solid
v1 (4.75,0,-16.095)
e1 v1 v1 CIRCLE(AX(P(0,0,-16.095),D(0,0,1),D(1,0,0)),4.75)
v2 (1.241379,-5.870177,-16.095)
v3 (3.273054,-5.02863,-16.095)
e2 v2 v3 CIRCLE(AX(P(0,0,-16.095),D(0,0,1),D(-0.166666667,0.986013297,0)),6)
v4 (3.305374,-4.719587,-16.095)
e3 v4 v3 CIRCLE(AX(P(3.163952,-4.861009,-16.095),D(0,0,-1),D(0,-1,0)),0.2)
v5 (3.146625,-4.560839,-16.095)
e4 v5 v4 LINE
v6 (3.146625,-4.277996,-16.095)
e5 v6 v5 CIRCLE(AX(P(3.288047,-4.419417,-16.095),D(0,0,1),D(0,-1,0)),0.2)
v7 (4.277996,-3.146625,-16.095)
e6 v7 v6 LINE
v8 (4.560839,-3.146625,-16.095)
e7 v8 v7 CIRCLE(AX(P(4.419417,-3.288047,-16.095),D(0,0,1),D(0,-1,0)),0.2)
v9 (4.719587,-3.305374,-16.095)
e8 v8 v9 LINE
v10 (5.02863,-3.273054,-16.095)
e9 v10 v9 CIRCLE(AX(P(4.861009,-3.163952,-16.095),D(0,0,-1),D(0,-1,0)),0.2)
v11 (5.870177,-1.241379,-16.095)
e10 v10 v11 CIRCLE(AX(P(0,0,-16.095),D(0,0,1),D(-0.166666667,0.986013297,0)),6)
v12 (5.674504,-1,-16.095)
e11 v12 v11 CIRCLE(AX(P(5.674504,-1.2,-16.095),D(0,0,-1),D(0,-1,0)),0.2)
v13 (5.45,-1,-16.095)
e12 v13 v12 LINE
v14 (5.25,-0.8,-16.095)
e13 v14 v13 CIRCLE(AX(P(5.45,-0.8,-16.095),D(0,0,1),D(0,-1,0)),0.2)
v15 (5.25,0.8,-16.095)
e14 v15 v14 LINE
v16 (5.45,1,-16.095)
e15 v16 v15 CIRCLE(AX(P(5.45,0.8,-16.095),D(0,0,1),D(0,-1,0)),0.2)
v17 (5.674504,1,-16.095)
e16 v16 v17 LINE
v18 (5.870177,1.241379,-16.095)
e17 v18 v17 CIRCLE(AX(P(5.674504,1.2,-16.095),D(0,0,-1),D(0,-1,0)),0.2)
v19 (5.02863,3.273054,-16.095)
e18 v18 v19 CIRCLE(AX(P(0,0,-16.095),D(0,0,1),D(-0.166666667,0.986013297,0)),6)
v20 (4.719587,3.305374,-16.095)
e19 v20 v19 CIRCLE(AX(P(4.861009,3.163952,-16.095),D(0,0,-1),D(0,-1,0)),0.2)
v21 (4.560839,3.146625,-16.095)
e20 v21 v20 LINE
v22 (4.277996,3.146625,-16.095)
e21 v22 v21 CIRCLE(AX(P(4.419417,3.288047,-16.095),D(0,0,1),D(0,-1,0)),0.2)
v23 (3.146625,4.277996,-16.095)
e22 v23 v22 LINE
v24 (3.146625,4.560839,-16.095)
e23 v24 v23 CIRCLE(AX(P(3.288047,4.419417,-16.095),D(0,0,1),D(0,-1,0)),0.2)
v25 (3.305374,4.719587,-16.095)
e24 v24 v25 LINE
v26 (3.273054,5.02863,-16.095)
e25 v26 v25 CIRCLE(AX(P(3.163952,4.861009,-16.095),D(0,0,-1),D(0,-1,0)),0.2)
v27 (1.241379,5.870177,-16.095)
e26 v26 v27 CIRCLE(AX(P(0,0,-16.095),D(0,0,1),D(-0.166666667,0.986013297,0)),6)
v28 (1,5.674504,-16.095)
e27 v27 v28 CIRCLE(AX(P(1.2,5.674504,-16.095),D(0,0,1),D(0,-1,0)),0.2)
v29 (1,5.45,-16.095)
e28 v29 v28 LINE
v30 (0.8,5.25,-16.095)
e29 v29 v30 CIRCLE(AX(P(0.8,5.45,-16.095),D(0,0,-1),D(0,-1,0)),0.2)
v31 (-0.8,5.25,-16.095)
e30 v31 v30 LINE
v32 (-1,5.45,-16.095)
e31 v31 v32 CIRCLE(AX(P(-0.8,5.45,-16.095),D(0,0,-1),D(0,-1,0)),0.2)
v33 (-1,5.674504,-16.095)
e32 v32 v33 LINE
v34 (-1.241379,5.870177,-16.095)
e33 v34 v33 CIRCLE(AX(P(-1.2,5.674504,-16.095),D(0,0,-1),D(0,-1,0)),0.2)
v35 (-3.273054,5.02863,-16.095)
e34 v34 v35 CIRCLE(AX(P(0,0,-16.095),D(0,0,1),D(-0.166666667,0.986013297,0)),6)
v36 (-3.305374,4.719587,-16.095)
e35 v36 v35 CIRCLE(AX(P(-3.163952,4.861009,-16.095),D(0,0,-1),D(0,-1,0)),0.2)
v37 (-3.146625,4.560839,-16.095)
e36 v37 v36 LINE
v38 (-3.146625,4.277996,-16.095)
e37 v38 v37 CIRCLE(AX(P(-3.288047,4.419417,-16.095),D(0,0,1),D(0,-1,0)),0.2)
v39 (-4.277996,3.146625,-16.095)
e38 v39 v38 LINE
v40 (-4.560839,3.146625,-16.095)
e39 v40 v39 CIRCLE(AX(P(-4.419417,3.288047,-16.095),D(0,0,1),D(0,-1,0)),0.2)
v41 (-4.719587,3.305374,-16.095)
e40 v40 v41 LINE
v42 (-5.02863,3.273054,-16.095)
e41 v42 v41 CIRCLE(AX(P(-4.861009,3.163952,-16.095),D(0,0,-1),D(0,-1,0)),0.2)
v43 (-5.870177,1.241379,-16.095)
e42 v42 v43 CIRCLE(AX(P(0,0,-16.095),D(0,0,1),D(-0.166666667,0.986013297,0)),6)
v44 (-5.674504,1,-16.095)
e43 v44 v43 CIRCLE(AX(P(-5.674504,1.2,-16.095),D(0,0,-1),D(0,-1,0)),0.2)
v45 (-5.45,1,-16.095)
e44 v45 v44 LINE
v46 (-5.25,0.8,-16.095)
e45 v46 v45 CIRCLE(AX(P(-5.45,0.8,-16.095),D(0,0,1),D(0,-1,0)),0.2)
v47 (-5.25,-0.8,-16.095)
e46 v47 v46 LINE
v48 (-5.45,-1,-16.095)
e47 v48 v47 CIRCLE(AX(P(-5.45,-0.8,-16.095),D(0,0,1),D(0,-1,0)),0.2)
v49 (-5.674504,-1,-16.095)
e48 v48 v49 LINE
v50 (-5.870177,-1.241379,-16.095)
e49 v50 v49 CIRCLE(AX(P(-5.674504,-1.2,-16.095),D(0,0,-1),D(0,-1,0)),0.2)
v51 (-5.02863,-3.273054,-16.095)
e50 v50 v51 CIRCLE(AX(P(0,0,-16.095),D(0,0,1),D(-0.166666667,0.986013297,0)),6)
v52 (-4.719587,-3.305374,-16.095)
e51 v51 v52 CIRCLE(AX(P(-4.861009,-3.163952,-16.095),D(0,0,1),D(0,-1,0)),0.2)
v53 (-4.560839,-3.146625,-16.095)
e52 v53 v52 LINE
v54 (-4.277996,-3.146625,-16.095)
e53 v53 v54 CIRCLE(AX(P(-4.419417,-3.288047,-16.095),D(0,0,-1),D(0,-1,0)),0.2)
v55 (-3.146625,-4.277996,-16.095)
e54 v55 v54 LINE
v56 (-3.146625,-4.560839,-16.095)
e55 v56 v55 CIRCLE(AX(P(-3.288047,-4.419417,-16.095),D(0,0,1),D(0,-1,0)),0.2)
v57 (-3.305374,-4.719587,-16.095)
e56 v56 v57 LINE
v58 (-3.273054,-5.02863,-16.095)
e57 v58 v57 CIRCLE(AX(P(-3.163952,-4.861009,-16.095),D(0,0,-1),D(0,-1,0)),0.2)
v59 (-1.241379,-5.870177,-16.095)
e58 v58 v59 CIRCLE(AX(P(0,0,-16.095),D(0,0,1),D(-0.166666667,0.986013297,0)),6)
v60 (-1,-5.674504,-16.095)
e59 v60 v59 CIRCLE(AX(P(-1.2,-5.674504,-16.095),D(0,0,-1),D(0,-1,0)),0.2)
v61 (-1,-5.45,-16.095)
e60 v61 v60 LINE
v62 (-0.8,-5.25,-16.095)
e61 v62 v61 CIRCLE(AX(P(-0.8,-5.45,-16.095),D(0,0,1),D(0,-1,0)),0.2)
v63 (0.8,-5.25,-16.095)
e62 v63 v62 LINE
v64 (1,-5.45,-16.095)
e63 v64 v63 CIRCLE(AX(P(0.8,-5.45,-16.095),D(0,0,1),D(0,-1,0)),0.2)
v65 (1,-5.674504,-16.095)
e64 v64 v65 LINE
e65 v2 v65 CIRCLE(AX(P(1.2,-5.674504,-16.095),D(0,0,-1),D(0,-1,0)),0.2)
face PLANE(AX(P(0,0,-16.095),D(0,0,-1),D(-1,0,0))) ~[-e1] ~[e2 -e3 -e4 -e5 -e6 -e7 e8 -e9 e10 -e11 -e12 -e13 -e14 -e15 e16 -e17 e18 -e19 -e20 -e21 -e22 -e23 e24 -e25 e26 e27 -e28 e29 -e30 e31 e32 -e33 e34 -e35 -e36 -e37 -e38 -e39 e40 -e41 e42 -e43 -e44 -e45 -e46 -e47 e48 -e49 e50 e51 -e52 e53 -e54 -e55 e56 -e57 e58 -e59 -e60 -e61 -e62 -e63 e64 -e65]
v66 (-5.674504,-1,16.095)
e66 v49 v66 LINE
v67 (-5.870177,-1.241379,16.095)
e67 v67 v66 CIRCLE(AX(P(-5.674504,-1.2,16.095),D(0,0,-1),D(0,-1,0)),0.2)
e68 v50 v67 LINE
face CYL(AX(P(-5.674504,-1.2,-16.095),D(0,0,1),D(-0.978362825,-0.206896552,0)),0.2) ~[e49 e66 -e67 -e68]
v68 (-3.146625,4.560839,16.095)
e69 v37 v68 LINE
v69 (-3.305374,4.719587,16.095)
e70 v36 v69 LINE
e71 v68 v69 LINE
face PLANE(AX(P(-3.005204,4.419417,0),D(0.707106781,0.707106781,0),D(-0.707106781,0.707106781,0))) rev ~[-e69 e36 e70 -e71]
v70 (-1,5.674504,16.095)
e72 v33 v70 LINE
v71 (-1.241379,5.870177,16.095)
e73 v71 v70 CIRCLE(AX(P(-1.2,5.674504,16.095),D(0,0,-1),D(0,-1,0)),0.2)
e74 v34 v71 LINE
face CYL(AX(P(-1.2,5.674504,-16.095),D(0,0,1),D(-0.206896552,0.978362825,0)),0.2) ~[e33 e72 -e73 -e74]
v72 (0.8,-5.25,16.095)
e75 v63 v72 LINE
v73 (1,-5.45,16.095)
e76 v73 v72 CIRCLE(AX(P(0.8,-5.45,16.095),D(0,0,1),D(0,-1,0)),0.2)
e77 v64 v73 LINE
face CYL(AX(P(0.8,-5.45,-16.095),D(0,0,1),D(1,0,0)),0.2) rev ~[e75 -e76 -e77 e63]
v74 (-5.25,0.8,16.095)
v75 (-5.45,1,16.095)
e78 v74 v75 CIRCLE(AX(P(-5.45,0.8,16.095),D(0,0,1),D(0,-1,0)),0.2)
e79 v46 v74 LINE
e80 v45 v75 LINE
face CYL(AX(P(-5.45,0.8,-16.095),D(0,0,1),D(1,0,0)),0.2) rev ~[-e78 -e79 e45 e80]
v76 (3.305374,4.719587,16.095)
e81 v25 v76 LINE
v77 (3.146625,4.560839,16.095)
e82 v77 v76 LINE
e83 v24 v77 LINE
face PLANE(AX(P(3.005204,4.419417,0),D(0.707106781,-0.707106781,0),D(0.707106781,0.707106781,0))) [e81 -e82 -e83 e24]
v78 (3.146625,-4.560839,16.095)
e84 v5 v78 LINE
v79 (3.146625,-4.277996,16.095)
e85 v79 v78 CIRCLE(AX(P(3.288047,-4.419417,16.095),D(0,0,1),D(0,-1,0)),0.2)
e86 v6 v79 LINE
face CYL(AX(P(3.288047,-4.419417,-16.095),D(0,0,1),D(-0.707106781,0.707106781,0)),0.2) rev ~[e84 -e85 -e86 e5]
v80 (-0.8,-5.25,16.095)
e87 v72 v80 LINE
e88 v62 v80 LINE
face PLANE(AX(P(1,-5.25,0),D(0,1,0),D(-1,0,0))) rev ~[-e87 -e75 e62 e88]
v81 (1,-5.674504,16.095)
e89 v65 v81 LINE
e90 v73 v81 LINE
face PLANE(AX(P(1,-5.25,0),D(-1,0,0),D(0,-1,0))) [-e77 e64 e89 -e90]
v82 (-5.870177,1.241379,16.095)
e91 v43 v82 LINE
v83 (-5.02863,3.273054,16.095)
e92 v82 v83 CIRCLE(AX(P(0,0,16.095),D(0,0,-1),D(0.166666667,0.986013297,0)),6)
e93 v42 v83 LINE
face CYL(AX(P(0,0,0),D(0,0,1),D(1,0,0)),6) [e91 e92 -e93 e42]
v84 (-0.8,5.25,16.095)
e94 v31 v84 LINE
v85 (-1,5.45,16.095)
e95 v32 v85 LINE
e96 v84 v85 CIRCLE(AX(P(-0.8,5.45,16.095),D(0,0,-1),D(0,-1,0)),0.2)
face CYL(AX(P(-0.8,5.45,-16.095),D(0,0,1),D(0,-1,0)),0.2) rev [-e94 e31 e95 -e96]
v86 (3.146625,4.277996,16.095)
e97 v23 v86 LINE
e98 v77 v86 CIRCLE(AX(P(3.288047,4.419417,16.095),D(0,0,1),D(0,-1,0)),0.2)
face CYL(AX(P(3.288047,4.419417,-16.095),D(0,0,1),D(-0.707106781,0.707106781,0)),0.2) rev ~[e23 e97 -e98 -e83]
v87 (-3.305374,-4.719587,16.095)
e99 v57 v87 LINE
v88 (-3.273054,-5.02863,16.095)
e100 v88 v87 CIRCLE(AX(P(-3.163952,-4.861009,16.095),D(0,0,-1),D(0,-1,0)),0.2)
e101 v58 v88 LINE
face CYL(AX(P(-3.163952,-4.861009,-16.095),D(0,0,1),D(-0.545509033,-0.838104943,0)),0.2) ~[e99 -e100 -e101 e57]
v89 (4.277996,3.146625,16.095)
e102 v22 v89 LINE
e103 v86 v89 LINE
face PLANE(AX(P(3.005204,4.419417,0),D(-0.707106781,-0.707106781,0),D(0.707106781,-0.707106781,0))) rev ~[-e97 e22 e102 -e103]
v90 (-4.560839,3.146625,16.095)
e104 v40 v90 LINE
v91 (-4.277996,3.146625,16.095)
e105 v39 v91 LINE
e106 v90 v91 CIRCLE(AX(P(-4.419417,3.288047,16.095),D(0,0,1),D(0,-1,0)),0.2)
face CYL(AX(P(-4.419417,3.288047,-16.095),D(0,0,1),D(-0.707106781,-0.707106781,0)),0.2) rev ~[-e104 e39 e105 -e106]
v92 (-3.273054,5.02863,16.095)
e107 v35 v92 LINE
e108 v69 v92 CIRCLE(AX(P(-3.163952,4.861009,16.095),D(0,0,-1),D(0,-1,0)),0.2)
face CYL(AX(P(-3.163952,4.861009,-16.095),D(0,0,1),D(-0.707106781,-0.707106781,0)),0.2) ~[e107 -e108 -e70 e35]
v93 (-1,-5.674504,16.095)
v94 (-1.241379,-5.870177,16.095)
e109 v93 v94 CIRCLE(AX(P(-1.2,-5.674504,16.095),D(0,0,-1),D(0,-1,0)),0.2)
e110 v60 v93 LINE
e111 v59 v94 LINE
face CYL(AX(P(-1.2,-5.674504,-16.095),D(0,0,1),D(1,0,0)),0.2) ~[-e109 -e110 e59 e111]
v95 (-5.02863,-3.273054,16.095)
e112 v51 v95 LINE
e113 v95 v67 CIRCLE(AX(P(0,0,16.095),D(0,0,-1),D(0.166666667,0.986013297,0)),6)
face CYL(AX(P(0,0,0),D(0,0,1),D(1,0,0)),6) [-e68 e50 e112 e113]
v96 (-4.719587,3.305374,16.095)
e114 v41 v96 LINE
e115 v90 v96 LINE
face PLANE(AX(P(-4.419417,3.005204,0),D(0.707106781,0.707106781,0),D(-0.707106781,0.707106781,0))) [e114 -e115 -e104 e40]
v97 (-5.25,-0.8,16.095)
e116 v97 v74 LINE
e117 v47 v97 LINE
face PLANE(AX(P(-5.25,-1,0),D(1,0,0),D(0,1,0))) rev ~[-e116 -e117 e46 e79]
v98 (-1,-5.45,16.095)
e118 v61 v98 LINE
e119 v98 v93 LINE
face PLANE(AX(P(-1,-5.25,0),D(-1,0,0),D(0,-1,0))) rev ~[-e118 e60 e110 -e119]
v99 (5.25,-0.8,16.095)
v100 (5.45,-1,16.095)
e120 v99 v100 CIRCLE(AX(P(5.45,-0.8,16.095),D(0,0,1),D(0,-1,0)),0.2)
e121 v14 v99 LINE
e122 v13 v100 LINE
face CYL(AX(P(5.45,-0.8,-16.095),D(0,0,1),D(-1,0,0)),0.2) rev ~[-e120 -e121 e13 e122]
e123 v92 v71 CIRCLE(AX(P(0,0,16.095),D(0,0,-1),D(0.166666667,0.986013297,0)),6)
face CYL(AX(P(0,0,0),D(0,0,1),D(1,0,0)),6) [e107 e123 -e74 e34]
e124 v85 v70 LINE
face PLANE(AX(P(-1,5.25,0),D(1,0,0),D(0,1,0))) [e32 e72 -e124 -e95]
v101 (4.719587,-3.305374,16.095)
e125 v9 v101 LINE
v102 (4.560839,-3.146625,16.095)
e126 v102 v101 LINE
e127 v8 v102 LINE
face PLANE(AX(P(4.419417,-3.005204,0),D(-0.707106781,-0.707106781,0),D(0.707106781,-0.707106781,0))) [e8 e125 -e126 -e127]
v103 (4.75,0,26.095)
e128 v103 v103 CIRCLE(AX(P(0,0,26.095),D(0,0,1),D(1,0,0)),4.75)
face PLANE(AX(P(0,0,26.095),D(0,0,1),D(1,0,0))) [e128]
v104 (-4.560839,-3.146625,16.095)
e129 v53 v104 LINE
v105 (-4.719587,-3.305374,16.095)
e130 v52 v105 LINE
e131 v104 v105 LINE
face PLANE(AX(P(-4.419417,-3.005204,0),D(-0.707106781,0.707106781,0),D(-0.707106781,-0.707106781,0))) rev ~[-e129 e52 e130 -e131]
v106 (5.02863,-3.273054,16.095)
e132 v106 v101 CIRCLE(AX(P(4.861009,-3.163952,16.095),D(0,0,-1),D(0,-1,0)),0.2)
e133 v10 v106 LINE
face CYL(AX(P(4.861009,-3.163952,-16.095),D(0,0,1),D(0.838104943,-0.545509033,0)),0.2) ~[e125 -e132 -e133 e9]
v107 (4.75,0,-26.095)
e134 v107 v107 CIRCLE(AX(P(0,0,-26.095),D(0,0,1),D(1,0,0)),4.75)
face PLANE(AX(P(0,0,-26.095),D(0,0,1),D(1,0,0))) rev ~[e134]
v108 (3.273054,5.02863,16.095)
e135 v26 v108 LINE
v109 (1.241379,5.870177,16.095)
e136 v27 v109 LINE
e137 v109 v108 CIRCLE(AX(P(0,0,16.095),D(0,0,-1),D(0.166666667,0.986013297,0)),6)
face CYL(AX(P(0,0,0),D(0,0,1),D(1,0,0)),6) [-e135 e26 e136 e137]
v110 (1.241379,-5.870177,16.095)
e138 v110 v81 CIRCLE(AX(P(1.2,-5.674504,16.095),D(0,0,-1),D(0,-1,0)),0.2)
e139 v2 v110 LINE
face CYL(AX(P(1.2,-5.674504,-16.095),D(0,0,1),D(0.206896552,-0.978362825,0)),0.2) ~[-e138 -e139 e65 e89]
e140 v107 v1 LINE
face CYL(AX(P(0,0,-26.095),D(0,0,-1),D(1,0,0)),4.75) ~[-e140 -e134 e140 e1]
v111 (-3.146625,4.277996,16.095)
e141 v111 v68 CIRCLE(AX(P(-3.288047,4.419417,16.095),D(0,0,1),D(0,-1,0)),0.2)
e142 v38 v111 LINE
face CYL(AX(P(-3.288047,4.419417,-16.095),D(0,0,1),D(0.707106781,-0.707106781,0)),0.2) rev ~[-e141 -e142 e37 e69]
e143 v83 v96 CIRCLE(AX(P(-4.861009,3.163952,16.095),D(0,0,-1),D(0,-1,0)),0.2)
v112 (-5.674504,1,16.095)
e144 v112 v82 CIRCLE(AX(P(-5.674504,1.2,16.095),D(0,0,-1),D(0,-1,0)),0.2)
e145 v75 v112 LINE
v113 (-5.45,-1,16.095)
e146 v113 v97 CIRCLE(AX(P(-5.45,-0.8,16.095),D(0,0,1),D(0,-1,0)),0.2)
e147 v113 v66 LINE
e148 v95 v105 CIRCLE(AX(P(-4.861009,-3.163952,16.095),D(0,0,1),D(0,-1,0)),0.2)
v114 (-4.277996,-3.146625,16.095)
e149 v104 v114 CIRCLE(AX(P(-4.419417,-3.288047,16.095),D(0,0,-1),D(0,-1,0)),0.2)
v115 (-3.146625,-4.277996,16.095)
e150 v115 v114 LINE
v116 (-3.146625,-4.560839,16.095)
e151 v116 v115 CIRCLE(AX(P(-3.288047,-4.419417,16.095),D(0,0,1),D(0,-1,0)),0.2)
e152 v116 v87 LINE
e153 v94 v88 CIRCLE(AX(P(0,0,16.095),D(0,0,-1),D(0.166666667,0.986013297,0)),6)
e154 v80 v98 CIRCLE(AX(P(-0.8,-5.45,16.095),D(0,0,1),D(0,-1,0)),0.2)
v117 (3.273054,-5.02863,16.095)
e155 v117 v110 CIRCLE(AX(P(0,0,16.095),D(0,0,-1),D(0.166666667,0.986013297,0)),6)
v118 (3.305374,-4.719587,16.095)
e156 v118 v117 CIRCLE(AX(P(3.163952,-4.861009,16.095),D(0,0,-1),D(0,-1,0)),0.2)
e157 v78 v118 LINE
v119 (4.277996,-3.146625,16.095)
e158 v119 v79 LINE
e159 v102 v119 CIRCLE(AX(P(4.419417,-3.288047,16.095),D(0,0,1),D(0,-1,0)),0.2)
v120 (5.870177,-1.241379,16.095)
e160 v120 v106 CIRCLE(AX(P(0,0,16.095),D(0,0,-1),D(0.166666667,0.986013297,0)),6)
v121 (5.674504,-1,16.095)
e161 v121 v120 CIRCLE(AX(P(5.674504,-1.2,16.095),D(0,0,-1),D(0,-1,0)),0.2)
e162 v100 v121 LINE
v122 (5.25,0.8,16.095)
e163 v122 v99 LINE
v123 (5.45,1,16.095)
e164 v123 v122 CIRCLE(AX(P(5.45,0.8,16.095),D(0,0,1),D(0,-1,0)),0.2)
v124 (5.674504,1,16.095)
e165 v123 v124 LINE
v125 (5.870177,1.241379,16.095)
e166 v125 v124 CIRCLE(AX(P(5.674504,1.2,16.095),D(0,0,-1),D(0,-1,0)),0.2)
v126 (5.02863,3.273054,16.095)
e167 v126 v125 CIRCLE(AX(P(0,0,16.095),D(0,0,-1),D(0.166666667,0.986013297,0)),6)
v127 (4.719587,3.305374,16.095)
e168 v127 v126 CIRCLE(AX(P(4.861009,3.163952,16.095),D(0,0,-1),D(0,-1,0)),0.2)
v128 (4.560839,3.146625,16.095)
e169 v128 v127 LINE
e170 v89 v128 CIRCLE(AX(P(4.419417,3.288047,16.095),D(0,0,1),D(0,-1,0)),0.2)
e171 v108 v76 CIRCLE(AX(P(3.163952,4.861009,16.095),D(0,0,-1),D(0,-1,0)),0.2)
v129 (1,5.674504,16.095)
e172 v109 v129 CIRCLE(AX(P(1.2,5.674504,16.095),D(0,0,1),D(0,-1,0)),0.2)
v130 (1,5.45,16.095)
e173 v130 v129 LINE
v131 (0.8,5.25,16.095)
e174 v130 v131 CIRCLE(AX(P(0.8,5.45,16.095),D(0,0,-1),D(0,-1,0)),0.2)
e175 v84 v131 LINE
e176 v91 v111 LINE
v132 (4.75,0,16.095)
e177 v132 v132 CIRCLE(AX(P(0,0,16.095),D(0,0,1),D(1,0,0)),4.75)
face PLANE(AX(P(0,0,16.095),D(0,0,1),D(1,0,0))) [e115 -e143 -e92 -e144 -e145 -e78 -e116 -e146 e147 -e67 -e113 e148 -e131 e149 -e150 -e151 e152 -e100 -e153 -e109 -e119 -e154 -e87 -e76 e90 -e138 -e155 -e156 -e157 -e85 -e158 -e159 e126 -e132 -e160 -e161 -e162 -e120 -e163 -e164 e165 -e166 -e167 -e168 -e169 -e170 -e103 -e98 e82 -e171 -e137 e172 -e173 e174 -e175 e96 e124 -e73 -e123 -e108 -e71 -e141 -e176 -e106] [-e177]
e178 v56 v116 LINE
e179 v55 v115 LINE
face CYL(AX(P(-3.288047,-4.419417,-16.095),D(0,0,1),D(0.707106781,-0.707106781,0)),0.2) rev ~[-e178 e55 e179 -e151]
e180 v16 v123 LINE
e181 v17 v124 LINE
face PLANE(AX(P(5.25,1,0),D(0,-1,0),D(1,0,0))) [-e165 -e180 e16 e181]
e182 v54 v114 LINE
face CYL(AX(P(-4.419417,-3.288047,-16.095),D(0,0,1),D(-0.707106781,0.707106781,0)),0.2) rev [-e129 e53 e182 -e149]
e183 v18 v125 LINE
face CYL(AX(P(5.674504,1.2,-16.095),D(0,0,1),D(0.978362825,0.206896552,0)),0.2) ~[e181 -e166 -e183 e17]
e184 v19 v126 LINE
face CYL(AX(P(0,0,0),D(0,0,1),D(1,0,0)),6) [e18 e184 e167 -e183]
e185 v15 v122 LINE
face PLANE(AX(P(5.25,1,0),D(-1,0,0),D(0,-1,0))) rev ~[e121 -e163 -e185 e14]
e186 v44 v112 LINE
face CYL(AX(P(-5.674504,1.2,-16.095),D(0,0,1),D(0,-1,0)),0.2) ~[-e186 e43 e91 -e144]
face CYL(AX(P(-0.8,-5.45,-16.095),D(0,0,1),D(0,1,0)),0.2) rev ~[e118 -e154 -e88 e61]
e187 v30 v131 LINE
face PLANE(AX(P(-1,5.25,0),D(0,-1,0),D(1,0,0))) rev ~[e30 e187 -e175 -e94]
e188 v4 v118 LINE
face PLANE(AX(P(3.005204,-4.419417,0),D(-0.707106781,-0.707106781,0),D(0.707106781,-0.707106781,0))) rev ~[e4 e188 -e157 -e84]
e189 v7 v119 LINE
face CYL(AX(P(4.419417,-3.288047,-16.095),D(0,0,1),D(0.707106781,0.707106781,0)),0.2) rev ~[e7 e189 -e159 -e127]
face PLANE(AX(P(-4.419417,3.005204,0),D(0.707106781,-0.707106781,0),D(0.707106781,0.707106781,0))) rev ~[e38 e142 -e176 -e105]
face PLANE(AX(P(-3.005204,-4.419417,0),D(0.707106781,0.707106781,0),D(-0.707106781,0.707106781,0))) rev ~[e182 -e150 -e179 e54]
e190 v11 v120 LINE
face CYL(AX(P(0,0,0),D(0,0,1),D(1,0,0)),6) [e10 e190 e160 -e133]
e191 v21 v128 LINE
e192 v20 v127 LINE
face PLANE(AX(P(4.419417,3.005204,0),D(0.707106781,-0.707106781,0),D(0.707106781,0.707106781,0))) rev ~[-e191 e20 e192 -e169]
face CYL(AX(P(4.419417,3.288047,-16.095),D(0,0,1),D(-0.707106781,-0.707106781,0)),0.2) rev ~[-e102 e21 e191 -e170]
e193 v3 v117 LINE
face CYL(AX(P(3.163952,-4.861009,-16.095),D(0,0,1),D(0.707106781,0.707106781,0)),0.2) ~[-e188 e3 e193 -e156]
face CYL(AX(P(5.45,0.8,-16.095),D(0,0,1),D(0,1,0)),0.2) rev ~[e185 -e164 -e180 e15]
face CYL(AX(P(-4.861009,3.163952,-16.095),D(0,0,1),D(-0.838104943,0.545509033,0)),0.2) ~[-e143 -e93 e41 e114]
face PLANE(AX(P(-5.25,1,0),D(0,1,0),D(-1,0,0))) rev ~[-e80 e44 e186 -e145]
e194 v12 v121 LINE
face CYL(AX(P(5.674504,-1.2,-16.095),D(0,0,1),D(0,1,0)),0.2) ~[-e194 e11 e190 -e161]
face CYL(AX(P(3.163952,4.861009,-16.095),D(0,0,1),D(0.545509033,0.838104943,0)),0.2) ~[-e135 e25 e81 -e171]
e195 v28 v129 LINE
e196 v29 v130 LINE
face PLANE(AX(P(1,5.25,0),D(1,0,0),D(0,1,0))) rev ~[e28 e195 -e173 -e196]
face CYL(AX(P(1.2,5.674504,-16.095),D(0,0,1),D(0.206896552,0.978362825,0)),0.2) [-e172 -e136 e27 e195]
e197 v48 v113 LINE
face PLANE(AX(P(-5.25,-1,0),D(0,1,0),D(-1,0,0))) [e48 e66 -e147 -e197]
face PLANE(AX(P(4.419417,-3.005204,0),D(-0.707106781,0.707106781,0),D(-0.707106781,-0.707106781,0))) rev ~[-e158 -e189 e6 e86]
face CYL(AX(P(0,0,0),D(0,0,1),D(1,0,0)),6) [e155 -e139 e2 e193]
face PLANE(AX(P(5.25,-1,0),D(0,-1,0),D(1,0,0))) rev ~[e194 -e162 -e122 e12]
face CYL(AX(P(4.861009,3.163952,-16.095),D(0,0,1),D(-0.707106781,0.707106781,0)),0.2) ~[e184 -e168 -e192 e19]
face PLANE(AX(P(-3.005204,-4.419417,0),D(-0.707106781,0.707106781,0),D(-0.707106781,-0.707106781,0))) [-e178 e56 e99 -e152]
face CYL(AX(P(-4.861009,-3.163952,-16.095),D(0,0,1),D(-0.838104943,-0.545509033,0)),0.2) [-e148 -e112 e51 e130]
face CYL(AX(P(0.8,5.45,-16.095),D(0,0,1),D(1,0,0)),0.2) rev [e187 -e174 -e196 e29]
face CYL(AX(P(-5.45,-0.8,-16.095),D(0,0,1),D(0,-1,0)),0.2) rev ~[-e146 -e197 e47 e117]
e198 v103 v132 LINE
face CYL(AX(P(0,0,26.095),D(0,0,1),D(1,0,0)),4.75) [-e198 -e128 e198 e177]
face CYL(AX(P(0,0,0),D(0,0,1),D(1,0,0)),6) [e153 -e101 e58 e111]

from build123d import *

# Parameters (mm, degrees)
SKETCH1_R                = 6
BOSS_EXTRUDE1_DEPTH      = 26.095
SKETCH2_OUTSIDE_W        = 24.976
SKETCH2_OUTSIDE_H        = 24.976
SKETCH2_OUTSIDE_R        = 4.75
CUT_EXTRUDE1_DEPTH       = 10
SKETCH3_W                = 2
SKETCH3_H                = 2
CUT_EXTRUDE2_DEPTH       = 28.439916636
FILLET1_R                = 0.2
CIRPATTERN1_COUNT        = 8
FILLET1_OF_CIRPATTERN1_R = 0.2


with BuildPart() as part:
    # Sketch1 → Boss-Extrude1 (new, symmetric)
    with BuildSketch(Plane.XY):
        Circle(SKETCH1_R)
    extrude(amount=BOSS_EXTRUDE1_DEPTH, both=True)

    # Sketch2 outside → Cut-Extrude1 (cut)
    with BuildSketch(Plane.XY.offset(26.095)):
        Rectangle(SKETCH2_OUTSIDE_W, SKETCH2_OUTSIDE_H)
        Circle(SKETCH2_OUTSIDE_R, mode=Mode.SUBTRACT)
    cut_extrude1 = extrude(amount=-CUT_EXTRUDE1_DEPTH, mode=Mode.SUBTRACT)

    # Mirror1: Cut-Extrude1 across plane
    add(cut_extrude1.mirror(Plane.XY), mode=Mode.SUBTRACT)

    # Sketch3 → Cut-Extrude2 (cut, symmetric)
    with BuildSketch(Plane.XY):
        with Locations((0, 6.25)):
            Rectangle(SKETCH3_W, SKETCH3_H)
    cut_extrude2 = extrude(amount=CUT_EXTRUDE2_DEPTH, both=True, mode=Mode.SUBTRACT)

    # Fillet1
    fillet1_edges = [part.edges().sort_by_distance(p)[0] for p in [
        (1, 5.916079783, 0),
        (1, 5.25, 0),
        (-1, 5.916079783, 0),
        (-1, 5.25, 0),
    ]]
    fillet(fillet1_edges, radius=FILLET1_R)

    # CirPattern1: Cut-Extrude2 ×8 about axis
    cirpattern1_axis = Axis((0, 0, 0), (0, 0, 1))
    for i in range(1, CIRPATTERN1_COUNT):
        add(cut_extrude2.rotate(cirpattern1_axis, i * 360 / CIRPATTERN1_COUNT), mode=Mode.SUBTRACT)

    # Fillet1 of CirPattern1
    fillet1_of_cirpattern1_edges = [part.edges().sort_by_distance(p)[0] for p in [
        (-3.476193351, 4.890406914, 0),
        (-3.00520382, 4.419417382, 0),
        (-4.890406914, 3.476193351, 0),
        (-4.419417382, 3.00520382, 0),
        (-5.916079783, 1, 0),
        (-5.25, 1, 0),
        (-5.916079783, -1, 0),
        (-5.25, -1, 0),
        (-4.890406914, -3.476193351, 0),
        (-4.419417382, -3.00520382, 0),
        (-3.476193351, -4.890406914, 0),
        (-3.00520382, -4.419417382, 0),
        (-1, -5.916079783, 0),
        (-1, -5.25, 0),
        (1, -5.916079783, 0),
        (1, -5.25, 0),
        (3.476193351, -4.890406914, 0),
        (3.00520382, -4.419417382, 0),
        (4.890406914, -3.476193351, 0),
        (4.419417382, -3.00520382, 0),
        (5.916079783, -1, 0),
        (5.25, -1, 0),
        (5.916079783, 1, 0),
        (5.25, 1, 0),
        (4.890406914, 3.476193351, 0),
        (4.419417382, 3.00520382, 0),
        (3.476193351, 4.890406914, 0),
        (3.00520382, 4.419417382, 0),
    ]]
    fillet(fillet1_of_cirpattern1_edges, radius=FILLET1_OF_CIRPATTERN1_R)


solid = part.part
